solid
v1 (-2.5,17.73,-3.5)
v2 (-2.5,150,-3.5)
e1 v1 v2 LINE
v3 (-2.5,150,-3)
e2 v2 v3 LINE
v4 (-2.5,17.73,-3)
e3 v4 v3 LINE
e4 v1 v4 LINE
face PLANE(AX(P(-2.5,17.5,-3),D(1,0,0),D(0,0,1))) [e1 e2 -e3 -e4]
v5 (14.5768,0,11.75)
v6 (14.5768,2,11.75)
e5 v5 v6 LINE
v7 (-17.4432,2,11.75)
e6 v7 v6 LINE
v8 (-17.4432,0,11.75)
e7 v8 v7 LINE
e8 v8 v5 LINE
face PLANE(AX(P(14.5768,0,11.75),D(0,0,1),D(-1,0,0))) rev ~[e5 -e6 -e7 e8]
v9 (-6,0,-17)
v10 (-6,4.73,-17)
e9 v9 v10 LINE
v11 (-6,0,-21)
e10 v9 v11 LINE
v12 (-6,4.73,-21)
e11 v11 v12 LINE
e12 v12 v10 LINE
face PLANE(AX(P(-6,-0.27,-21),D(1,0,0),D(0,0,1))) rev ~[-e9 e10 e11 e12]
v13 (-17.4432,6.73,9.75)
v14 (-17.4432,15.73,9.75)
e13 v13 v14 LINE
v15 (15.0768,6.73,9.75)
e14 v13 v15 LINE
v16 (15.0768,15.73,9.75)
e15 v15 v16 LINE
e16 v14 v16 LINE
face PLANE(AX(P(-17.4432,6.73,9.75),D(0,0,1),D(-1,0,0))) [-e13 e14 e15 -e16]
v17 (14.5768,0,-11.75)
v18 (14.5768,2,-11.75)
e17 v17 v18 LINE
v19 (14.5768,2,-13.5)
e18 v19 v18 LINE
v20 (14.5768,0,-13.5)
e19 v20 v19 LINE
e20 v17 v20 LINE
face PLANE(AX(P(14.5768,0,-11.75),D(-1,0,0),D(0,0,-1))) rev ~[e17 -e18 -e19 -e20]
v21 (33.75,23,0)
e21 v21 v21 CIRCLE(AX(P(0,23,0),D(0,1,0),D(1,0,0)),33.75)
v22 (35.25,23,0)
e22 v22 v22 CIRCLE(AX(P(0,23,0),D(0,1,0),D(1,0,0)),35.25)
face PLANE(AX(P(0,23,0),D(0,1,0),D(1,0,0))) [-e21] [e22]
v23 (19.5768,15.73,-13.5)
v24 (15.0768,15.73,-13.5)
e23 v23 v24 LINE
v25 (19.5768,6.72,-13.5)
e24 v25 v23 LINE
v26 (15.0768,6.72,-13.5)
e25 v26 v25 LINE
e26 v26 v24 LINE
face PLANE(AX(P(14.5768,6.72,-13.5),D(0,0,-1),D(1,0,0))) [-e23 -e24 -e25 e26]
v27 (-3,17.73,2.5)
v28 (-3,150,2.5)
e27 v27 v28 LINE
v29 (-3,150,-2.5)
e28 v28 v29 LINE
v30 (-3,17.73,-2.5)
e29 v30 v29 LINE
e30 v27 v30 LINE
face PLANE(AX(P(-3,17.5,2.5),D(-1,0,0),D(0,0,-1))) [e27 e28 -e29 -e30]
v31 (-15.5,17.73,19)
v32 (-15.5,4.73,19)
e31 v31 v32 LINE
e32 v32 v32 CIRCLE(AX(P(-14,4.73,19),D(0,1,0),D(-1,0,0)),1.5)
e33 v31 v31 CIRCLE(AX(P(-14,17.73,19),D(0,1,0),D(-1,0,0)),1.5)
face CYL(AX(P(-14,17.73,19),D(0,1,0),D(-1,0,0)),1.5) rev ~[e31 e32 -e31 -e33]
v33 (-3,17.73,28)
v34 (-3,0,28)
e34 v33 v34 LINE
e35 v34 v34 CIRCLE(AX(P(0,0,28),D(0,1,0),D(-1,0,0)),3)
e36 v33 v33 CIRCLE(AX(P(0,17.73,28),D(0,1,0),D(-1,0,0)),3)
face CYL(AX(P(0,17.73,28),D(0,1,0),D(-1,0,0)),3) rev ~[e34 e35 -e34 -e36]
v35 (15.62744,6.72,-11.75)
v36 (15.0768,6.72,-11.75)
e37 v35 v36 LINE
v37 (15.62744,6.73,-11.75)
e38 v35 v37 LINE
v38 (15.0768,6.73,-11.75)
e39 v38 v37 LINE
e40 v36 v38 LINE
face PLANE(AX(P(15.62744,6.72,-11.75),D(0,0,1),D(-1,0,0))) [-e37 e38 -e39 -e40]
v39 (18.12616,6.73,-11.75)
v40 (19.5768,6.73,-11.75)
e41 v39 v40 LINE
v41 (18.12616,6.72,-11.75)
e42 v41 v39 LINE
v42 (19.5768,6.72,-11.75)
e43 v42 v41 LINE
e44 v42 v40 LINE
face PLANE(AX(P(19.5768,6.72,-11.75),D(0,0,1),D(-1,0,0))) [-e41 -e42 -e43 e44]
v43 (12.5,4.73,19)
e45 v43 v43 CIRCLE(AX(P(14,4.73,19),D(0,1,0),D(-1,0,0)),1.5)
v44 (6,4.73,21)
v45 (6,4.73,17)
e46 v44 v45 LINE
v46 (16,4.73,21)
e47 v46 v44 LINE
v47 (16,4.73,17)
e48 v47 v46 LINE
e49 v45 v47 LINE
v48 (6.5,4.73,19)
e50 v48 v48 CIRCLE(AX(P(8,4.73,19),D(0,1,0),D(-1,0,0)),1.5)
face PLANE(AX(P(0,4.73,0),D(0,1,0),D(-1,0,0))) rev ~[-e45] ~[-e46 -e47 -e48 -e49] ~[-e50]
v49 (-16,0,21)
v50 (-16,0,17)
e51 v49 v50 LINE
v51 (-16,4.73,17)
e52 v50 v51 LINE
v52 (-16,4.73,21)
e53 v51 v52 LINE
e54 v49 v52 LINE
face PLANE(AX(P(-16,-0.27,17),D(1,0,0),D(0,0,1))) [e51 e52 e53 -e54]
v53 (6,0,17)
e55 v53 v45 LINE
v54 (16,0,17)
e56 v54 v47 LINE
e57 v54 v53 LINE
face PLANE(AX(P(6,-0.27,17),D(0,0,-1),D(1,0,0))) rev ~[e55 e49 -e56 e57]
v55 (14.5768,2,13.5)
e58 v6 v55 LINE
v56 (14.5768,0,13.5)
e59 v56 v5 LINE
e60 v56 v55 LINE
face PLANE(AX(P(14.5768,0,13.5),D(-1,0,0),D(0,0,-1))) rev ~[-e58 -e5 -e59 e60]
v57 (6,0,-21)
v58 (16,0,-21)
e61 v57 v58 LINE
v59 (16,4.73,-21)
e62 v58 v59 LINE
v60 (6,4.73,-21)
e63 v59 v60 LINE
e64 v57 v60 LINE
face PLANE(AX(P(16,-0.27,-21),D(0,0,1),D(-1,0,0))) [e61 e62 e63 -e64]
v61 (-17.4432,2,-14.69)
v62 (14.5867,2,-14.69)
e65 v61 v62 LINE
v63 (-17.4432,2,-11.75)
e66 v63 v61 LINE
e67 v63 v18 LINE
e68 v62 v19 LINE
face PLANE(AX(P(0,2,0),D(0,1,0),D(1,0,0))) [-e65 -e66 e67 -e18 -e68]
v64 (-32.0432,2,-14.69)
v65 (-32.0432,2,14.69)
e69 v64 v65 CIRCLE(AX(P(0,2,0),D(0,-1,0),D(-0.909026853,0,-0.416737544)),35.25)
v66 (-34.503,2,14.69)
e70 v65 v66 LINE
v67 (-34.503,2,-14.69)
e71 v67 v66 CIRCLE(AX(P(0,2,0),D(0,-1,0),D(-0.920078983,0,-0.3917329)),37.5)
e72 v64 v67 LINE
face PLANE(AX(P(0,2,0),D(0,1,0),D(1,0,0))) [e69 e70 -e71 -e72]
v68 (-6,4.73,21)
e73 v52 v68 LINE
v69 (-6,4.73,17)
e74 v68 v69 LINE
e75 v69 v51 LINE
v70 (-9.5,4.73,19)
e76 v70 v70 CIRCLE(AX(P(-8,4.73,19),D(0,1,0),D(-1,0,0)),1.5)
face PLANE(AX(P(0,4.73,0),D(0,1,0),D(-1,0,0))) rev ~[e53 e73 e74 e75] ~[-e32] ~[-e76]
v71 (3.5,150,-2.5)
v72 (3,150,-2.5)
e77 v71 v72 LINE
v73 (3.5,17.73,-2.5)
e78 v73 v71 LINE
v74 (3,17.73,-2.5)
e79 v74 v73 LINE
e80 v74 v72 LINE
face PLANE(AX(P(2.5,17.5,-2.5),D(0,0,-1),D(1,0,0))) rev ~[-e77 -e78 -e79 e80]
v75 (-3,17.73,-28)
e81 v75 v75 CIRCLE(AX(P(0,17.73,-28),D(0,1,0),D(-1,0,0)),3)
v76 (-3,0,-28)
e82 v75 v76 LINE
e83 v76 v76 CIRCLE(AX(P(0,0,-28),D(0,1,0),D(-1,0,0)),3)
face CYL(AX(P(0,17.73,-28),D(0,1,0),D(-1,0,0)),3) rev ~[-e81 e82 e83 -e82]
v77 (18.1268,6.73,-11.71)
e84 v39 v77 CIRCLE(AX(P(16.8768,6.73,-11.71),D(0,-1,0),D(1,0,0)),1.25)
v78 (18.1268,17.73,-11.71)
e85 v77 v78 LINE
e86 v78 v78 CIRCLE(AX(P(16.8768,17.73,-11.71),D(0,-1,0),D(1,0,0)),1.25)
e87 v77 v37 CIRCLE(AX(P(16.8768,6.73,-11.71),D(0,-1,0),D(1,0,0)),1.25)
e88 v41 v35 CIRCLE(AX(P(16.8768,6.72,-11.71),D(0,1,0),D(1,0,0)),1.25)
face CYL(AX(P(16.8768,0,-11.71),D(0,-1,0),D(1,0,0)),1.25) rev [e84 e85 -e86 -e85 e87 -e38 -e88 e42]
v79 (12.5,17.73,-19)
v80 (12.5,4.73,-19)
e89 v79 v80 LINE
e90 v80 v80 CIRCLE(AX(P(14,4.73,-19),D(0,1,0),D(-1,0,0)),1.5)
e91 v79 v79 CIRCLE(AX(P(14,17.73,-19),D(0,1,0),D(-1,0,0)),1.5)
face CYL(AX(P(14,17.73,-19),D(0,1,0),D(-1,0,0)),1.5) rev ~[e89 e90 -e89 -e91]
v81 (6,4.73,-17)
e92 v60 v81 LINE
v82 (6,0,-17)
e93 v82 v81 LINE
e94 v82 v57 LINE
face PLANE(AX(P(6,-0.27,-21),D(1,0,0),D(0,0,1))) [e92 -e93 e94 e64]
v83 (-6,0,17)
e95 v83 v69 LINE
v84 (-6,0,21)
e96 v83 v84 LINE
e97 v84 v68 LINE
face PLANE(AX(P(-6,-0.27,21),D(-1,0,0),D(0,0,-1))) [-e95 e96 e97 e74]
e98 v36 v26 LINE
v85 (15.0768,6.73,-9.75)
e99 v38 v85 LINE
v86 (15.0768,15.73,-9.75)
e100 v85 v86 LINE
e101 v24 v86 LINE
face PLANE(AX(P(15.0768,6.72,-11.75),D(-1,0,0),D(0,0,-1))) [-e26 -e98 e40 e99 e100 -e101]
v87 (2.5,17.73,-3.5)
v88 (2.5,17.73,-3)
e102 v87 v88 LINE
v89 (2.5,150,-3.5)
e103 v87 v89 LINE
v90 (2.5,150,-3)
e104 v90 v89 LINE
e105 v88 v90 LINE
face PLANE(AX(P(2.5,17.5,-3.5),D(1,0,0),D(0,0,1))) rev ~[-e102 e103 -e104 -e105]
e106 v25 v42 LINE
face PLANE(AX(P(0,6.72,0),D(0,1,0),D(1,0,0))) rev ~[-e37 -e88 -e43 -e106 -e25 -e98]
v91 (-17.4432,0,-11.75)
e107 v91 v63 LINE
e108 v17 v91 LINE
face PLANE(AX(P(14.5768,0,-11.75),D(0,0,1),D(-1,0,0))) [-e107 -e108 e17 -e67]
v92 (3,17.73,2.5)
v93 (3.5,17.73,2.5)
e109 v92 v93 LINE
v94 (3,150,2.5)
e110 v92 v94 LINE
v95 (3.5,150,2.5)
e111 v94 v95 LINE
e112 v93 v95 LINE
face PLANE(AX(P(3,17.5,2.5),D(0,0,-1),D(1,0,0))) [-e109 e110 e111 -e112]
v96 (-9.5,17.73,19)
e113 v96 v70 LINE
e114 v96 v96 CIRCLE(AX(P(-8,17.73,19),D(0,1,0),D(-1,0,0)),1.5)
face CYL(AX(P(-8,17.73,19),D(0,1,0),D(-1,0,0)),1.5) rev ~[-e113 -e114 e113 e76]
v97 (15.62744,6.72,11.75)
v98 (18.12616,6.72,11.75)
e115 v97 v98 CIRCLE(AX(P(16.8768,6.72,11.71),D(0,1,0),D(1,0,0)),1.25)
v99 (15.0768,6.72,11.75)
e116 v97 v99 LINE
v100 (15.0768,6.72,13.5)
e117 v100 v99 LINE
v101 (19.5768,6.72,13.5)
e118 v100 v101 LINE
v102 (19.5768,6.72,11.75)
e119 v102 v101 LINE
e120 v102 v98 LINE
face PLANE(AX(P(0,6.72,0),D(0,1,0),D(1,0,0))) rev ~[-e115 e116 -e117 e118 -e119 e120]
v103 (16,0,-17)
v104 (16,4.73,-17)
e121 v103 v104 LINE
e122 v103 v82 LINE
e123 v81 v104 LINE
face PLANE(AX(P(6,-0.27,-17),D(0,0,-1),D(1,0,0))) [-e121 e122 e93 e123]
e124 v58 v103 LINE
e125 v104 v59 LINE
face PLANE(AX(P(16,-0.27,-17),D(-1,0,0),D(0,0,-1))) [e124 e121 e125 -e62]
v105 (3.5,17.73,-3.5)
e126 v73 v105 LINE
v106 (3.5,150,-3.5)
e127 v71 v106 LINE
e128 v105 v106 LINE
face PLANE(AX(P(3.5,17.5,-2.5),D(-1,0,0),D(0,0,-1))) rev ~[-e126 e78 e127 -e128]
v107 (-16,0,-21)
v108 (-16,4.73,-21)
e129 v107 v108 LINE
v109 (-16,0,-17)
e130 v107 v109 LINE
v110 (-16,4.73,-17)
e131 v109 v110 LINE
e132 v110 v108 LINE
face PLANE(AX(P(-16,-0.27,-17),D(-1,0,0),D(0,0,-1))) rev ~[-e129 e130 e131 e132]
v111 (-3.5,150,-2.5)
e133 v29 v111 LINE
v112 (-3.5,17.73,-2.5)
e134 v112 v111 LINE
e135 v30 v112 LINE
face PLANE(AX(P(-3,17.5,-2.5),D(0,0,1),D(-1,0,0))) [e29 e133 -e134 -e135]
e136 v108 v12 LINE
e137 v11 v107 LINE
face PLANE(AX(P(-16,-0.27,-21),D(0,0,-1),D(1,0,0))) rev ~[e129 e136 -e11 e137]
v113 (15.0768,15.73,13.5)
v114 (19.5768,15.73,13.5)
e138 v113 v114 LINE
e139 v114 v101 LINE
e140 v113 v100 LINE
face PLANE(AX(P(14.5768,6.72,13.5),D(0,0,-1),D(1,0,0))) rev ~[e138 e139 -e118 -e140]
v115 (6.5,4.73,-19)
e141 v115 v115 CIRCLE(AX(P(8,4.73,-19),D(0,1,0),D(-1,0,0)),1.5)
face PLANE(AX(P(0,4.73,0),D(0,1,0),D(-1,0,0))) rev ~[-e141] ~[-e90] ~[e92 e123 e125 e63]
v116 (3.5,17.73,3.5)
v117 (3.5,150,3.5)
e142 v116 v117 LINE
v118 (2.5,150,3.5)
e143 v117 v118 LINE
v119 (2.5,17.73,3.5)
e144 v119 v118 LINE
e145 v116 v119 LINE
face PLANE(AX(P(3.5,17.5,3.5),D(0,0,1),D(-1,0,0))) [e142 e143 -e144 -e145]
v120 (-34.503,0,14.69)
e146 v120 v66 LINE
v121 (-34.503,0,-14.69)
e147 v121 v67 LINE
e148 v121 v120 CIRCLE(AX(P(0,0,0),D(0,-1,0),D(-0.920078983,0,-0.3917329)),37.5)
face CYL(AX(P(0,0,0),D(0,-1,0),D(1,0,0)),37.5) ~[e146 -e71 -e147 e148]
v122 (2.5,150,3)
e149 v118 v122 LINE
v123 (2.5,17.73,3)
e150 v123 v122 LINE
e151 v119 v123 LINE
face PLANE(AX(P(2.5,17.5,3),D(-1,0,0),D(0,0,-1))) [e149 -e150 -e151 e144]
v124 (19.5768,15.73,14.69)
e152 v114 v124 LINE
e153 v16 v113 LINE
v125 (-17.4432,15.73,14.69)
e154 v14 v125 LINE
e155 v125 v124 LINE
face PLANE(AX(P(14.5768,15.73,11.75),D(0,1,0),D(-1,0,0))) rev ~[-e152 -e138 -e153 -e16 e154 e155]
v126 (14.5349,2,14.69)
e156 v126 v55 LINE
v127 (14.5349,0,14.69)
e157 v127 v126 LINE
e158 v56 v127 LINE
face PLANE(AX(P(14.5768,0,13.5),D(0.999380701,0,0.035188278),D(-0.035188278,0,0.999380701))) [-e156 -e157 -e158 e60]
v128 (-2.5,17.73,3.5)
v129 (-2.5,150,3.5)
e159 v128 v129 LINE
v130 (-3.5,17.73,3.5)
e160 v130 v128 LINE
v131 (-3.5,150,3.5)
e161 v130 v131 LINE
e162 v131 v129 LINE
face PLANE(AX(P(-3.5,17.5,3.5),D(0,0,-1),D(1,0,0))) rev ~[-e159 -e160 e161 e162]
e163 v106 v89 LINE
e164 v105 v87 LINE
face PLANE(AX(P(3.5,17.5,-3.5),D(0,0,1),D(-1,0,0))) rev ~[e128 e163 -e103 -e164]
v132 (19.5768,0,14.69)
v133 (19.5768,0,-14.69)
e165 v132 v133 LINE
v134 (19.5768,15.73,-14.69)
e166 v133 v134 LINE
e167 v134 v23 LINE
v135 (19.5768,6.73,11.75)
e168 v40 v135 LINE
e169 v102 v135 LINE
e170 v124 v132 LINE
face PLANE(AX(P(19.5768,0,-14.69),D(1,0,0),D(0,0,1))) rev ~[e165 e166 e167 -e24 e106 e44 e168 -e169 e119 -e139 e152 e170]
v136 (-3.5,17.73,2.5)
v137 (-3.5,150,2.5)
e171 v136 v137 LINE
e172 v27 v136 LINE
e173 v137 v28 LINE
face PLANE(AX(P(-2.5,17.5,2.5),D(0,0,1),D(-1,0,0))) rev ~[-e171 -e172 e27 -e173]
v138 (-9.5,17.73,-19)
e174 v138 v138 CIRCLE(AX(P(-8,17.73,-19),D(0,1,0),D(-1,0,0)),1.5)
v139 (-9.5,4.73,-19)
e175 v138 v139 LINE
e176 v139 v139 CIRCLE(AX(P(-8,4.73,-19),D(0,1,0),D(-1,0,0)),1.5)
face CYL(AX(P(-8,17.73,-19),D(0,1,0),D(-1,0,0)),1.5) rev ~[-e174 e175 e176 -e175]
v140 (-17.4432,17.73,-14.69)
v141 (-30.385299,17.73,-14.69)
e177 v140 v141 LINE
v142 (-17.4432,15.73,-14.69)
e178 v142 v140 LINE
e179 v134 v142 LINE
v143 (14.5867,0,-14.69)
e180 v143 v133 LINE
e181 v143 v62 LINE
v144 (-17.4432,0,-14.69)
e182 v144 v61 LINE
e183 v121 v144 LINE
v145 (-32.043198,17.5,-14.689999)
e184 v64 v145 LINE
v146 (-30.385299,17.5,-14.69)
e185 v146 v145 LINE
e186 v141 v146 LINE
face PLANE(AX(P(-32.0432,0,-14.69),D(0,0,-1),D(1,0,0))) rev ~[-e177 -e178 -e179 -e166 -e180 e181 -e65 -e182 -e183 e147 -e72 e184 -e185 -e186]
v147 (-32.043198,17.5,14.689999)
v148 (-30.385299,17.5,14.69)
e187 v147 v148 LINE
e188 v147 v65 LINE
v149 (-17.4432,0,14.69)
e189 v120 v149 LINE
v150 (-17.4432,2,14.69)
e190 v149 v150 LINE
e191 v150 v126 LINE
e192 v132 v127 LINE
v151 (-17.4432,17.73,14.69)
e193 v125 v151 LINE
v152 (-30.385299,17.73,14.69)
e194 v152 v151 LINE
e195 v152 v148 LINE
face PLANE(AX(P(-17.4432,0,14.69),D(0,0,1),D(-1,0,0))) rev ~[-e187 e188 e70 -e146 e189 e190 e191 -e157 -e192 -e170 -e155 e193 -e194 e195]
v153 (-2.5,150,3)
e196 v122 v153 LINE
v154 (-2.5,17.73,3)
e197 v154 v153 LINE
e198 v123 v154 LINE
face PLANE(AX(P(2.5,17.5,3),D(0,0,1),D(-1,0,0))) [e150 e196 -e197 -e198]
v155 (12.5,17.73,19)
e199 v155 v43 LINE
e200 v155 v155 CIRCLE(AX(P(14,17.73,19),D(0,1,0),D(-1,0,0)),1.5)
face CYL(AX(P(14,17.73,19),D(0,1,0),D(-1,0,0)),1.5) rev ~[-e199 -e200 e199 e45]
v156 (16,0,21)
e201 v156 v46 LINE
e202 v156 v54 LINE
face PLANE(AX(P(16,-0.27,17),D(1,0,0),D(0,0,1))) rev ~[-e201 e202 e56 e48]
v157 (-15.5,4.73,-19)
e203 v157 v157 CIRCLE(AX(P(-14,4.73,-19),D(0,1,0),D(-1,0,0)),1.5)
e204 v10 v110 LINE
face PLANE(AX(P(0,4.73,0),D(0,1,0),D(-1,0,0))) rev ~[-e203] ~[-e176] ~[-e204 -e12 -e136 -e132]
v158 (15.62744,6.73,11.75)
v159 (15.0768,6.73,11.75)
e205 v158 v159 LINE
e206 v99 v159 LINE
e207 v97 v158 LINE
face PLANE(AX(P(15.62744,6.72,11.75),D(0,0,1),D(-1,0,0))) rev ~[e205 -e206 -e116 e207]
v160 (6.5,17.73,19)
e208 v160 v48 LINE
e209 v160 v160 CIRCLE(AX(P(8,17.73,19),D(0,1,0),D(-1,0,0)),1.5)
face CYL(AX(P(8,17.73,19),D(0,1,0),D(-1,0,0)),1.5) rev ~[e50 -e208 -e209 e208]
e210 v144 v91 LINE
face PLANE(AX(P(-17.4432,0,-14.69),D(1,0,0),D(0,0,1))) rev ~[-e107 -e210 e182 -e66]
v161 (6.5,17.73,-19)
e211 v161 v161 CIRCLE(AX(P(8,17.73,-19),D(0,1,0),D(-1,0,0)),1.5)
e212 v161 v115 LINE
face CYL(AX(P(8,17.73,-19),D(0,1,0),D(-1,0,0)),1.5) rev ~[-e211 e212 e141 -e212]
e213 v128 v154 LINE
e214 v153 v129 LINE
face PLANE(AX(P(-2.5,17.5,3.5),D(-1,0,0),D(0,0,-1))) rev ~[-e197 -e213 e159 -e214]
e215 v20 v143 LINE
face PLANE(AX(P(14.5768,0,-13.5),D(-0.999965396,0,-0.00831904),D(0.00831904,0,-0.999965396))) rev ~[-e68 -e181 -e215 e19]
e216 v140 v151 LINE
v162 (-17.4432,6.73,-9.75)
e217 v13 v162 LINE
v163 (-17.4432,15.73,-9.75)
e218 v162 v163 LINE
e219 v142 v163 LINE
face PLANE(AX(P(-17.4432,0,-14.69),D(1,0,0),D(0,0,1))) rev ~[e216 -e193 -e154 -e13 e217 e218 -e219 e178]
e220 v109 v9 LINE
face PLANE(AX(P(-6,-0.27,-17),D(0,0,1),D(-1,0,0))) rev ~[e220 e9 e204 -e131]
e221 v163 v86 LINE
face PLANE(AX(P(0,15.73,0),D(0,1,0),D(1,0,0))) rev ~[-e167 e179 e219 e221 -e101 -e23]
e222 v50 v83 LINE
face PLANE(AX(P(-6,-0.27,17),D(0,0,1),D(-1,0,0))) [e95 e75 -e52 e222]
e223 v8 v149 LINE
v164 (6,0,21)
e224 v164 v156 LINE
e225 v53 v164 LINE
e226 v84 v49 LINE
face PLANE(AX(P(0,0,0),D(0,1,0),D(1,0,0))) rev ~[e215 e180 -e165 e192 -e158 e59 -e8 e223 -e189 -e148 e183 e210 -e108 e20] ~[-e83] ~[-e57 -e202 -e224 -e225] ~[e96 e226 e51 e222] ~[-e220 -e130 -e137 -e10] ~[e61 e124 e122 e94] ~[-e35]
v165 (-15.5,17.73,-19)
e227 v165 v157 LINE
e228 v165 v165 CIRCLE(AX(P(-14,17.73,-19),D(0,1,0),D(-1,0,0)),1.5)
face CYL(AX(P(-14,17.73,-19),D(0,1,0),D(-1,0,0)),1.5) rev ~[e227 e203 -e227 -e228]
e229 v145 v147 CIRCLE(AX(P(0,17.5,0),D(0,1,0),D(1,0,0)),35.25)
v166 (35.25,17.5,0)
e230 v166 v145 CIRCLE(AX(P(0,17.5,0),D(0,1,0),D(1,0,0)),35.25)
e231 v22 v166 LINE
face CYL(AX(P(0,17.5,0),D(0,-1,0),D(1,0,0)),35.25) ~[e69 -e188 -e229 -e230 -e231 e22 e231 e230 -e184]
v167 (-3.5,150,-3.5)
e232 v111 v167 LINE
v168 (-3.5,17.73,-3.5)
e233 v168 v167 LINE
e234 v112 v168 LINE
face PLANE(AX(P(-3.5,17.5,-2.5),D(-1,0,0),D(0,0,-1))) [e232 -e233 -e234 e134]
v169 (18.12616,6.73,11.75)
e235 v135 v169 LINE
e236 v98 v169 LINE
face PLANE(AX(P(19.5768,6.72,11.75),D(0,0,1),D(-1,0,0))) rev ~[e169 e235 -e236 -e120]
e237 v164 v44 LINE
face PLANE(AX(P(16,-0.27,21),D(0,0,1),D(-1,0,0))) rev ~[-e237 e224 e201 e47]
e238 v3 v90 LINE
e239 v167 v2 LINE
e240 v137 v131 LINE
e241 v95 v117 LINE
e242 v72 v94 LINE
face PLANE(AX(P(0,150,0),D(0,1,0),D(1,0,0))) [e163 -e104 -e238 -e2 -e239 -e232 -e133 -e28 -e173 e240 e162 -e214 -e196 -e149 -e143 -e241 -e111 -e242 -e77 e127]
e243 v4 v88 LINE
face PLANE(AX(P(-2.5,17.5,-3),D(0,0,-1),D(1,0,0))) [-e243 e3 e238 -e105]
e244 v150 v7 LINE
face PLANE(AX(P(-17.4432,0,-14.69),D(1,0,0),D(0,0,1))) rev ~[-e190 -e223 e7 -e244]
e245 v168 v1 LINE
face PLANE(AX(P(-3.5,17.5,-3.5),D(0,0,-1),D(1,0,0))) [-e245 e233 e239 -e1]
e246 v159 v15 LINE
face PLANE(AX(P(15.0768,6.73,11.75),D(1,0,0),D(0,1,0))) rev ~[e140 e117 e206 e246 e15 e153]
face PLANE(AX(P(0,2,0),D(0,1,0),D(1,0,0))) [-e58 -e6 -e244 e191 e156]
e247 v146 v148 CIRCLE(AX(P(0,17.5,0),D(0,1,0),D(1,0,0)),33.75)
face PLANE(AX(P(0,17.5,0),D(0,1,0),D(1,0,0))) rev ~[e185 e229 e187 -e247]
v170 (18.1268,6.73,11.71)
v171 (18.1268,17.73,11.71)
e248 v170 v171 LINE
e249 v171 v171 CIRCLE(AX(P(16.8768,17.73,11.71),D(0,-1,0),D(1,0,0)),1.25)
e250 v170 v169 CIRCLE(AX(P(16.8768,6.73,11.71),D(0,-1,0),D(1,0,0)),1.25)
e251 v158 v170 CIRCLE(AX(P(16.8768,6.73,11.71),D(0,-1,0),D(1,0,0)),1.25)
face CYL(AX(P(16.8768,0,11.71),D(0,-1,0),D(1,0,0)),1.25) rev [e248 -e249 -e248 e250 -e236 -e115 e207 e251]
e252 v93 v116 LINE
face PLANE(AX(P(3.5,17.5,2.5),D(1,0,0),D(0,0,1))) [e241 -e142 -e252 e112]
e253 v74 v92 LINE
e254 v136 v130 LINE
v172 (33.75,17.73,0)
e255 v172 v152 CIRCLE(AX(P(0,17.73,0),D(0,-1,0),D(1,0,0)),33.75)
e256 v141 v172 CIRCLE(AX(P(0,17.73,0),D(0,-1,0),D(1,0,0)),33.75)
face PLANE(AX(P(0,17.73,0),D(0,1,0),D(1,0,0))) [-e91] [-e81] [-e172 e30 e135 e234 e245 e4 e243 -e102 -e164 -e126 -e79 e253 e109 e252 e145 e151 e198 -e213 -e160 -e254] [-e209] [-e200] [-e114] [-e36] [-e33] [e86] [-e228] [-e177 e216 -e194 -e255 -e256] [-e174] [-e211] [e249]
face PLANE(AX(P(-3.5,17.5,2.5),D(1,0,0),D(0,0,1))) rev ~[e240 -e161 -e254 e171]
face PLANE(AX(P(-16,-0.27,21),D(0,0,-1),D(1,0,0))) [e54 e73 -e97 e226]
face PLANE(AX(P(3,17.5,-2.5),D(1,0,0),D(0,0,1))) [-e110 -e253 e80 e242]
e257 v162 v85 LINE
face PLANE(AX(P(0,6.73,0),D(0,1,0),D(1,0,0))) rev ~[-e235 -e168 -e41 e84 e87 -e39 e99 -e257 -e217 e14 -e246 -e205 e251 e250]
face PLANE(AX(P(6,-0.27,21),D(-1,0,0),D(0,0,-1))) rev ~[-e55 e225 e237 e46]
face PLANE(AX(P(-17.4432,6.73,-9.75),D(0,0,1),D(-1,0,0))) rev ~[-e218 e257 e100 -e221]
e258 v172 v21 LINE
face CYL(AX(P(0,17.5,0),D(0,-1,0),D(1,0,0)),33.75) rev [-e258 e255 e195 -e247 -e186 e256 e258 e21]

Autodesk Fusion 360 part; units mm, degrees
sketch "Sketch1" plane through (0, 0, 0) normal (0, 1, 0) x (1, 0, 0) in component "Base"
  circle A0 centre (0, 0) radius 37.5
  circle A1 centre (0, 0) radius 35.25
  circle A2 centre (0, 0) radius 33.75
  dimension "d8" = 70.5
  dimension "d82" = -1.5
sketch "Sketch1 (2)" plane through (0, 0, 0) normal (0, 1, 0) x (1, 0, 0) in component "Esp32 Module"
  line L0 (19.5768, -14.69) -> (-32.0432, -14.69)
  line L1 (-32.0432, -14.69) -> (-32.0432, 14.69)
  line L2 (-32.0432, 14.69) -> (19.5768, 14.69)
  line L3 (19.5768, 14.69) -> (19.5768, -14.69)
  line L4 (19.5768, -14.69) -> (-32.0432, 14.69) construction
  line L5 (-32.0432, -14.69) -> (19.5768, 14.69) construction
  circle A0 centre (0, 0) radius 35.25
  line L6 (-32.0432, 4.01) -> (-26.5332, 4.01)
  line L7 (-26.5332, 4.01) -> (-26.5332, -3.49)
  line L8 (-26.5332, -3.49) -> (-32.0432, -3.49)
  line L9 (-32.0432, -3.49) -> (-32.0432, 4.01)
  line L10 (-32.0432, 14.69) -> (-28.6432, 14.69) construction
  line L11 (-28.6432, 14.69) -> (-28.6432, 8.19) construction
  line L12 (-28.6432, 8.19) -> (-32.0432, 8.19) construction
  line L13 (-32.0432, 8.19) -> (-32.0432, 14.69) construction
  circle A1 centre (-28.6432, 8.19) radius 1.5
  line L14 (-32.0432, -8.19) -> (-28.6432, -8.19) construction
  line L15 (-28.6432, -8.19) -> (-28.6432, -14.69) construction
  line L16 (-28.6432, -14.69) -> (-32.0432, -14.69) construction
  line L17 (-32.0432, -14.69) -> (-32.0432, -8.19) construction
  circle A2 centre (-28.6432, -8.19) radius 1.5
  line L18 (-32.0432, -14.69) -> (-18.9432, -14.69) construction
  line L19 (-18.9432, -14.69) -> (-18.9432, -8.59) construction
  line L20 (-18.9432, -8.59) -> (-32.0432, -8.59) construction
  line L21 (-32.0432, -8.59) -> (-32.0432, -14.69) construction
  line L22 (-17.4432, -7.09) -> (-20.4432, -7.09)
  line L23 (-20.4432, -7.09) -> (-20.4432, -10.09)
  line L24 (-20.4432, -10.09) -> (-17.4432, -10.09)
  line L25 (-17.4432, -10.09) -> (-17.4432, -7.09)
  line L26 (-17.4432, -7.09) -> (-20.4432, -10.09) construction
  line L27 (-20.4432, -7.09) -> (-17.4432, -10.09) construction
  line L28 (19.5768, 14.69) -> (-17.4432, 14.69)
  line L29 (-17.4432, 14.69) -> (-17.4432, -14.69)
  line L30 (-17.4432, -14.69) -> (19.5768, -14.69)
  line L31 (19.5768, -14.69) -> (19.5768, 14.69)
  circle A3 centre (0, 0) radius 37.5
  line L32 (-32.0432, 14.69) -> (-34.503, 14.69)
  line L33 (-32.0432, -14.69) -> (-34.503, -14.69)
  arc A4 (-34.503, 14.69) -> (-34.503, -14.69) centre (-1.1733, 0) ccw
  line L34 (-17.4432, -13.5) -> (19.5768, -13.5)
  line L35 (19.5768, -13.5) -> (19.5768, -11.75)
  line L36 (19.5768, -11.75) -> (-17.4432, -11.75)
  line L37 (-17.4432, -11.75) -> (-17.4432, -13.5)
  line L38 (-6.2332, 0) -> (19.5768, 0) construction
  line L39 (-17.4432, 13.5) -> (19.5768, 13.5)
  line L40 (19.5768, 11.75) -> (-17.4432, 11.75)
  line L41 (-17.4432, 11.75) -> (-17.4432, 13.5)
  line L42 (19.5768, -14.69) -> (19.5768, 14.69)
  line L43 (-17.4432, 13.5) -> (-32.5624, 13.5)
  line L44 (-17.4432, 11.75) -> (-33.234, 11.75)
  line L45 (-17.4432, -11.75) -> (-33.234, -11.75)
  line L46 (-17.4432, -13.5) -> (-32.5624, -13.5)
  line L47 (19.5768, 0) -> (16.8768, 0)
  line L48 (16.8768, 0) -> (16.8768, -11.71)
  line L49 (16.8768, -11.71) -> (19.5768, -11.71)
  line L50 (19.5768, -11.71) -> (19.5768, 0)
  circle A5 centre (16.8768, -11.71) radius 1.25
  circle A6 centre (16.8768, 11.71) radius 1.25
  line L51 (19.5768, -13.5) -> (14.5768, -13.5)
  line L52 (14.5768, -13.5) -> (14.5768, 13.5)
  line L53 (14.5768, 13.5) -> (19.5768, 13.5)
  line L54 (19.5768, 13.5) -> (19.5768, -13.5)
  line L55 (14.5768, 13.5) -> (14.5867, 14.69)
  line L56 (14.5768, -13.5) -> (14.5349, -14.69)
  point P0 (-6.2332, 0)
  point P1 (-18.9432, -8.59)
  dimension "d9" = 51.62
  dimension "d10" = 29.38
  dimension "d15" = 5.51
  dimension "d16" = 7.5
  dimension "d17" = 18.18
  dimension "d18" = 3.4
  dimension "d19" = 6.5
  dimension "d20" = 3
  dimension "d21" = 3.4
  dimension "d22" = 6.5
  dimension "d23" = 3
  dimension "d24" = 13.1
  dimension "d25" = 6.1
  dimension "d26" = 3
  dimension "d27" = 3
  dimension "d32" = 1.75
  dimension "d33" = 1.19
  dimension "d99" = 2.7
  dimension "d100" = 11.71
  dimension "d101" = 2.5
  dimension "d104" = 5
extrude "Extrude1" add sketch "Sketch1 (2)" along normal blind 2 contours L0 L2 L3 A0 L28 L30 L31 L35 L42 L50 L54 | L0 L3 L30 L31 L34 L42 L51 L56 | L0 L29 L30 L34 L56 | L3 L31 L34 L35 L36 L42 A5 L51 L52 L54 | L29 L34 L36 L37 L52 | L3 L31 L36 L42 L49 A5 L54 | A0 A3 L32 L33 | L3 L31 L36 L40 L42 L47 L48 A5 A6 L52 L54 | L25 L29 L36 L40 L52 | L3 L31 L42 L47 L48 L49 L50 A5 L54 | L36 A5 | L36 L48 L49 A5 | L3 L31 L39 L40 L42 A6 L52 L53 L54 | L29 L39 L40 L41 L52 | L48 L49 A5 | L40 A6 | L40 A6 | L2 L3 L28 L31 L39 L42 L53 L55 | L2 L28 L29 L39 L55 picked at (-2.6137, 21.4253) picked at (16.2295, -14.2933) picked at (3.8895, -13.8967) picked at (19.048, -12.5093) picked at (3.9035, -12.9167) picked at (19.0934, -11.7278) picked at (-31.2352, 17.761) picked at (17.8889, 3.502) picked at (3.9035, -2.3633) picked at (17.8361, -3.4909) picked at (16.6279, -12.1266) picked at (16.8163, -10.8811) picked at (19.048, 12.5093) picked at (-6.7699, 12.3333) picked at (17.1673, -10.9312) picked at (16.6723, 12.0997) picked at (16.7519, 11.3392) picked at (16.2468, 13.8967) picked at (3.9068, 14.2933) makes body 1 in component "Esp32 Module"
extrude "Extrude2" add sketch "Sketch1 (2)" along normal blind 6.73 contours L0 L2 L3 A0 L28 L30 L31 L35 L42 L50 L54 picked at (-2.6137, 21.4253) bodies 1 in component "Esp32 Module"
ref_plane "WorkPlane1" through (1.6034, 6.73, 0) normal (0, 1, 0) x (1, 0, 0) in component "Esp32 Module"
extrude "Extrude3" add sketch "Sketch1 (2)" along normal blind 17.73 and the other way blind -6.73 separate body contours L0 L2 L3 A0 L28 L30 L31 L35 L42 L50 L54 | L0 L3 L30 L31 L34 L42 L51 L56 | L0 L29 L30 L34 L56 | L3 L31 L34 L35 L36 L42 A5 L51 L52 L54 | L0 L1 L29 L46 | L29 L34 L36 L37 L52 | L3 L31 L36 L42 L49 A5 L54 | L1 A0 L46 | L1 L29 L37 L45 L46 | L3 L31 L36 L40 L42 L47 L48 A5 A6 L52 L54 | L25 L29 L36 L40 L52 | L3 L31 L42 L47 L48 L49 L50 A5 L54 | L36 A5 | L36 L48 L49 A5 | L1 A0 L45 L46 | L1 L6 L7 L8 L22 L23 L24 L29 L44 L45 | L3 L31 L39 L40 L42 A6 L52 L53 L54 | L29 L39 L40 L41 L52 | L48 L49 A5 | L1 A0 L9 L44 L45 | L1 L2 L29 L43 | L1 A0 L43 | L22 L23 L24 L25 L29 | L40 A6 | L40 A6 | L1 L29 L41 L43 L44 | L2 L3 L28 L31 L39 L42 L53 L55 | L2 L28 L29 L39 L55 | L1 L6 L7 L8 L9 | L1 A0 L43 L44 | A1 | A2 picked at (-2.6137, 21.4253) picked at (16.2295, -14.2933) picked at (3.8895, -13.8967) picked at (19.048, -12.5093) picked at (-22.3099, -14.2933) picked at (3.9035, -12.9167) picked at (19.0934, -11.7278) picked at (-32.3333, -13.6329) picked at (-27.1765, -12.3333) picked at (17.8889, 3.502) picked at (3.9035, -2.3633) picked at (17.8361, -3.4909) picked at (16.6279, -12.1266) picked at (16.8163, -10.8811) picked at (-32.2943, -12.7236) picked at (-20.4732, 2.89) picked at (19.048, 12.5093) picked at (-6.7699, 12.3333) picked at (17.1673, -10.9312) picked at (-33.085, 0.9713) picked at (-27.1765, 13.8967) picked at (-32.3333, 13.6329) picked at (-18.4432, -9.09) picked at (16.6723, 12.0997) picked at (16.7519, 11.3392) picked at (-22.3099, 12.9167) picked at (16.2468, 13.8967) picked at (3.9068, 14.2933) picked at (-30.2065, 1.51) picked at (-32.2943, 12.7236) picked at (-28.8632, 9.154) picked at (-28.4979, -7.226) makes body 2 in component "Esp32 Module"
extrude "Extrude4" cut sketch "Sketch1 (2)" along normal blind 6.73 and the other way blind -15.73 contours L3 L31 L34 L35 L36 L42 A5 L51 L52 L54 | L29 L34 L36 L37 L52 | L36 A5 | L3 L31 L39 L40 L42 A6 L52 L53 L54 | L29 L39 L40 L41 L52 | L40 A6 picked at (19.048, -12.5093) picked at (3.9035, -12.9167) picked at (16.6279, -12.1266) picked at (19.048, 12.5093) picked at (-6.7699, 12.3333) picked at (16.6723, 12.0997) bodies 2 in component "Esp32 Module"
extrude "Extrude5" cut sketch "Sketch1 (2)" along normal blind 15.73 and the other way blind -6.73 contours L1 L29 L37 L45 L46 | L1 A0 L45 L46 | L1 L29 L41 L43 L44 | L1 A0 L43 L44 picked at (-27.1765, -12.3333) picked at (-32.2943, -12.7236) picked at (-22.3099, 12.9167) picked at (-32.2943, 12.7236) bodies 2 in component "Esp32 Module"
sketch "Sketch1 (3)" plane through (0, 0, 0) normal (0, 1, 0) x (1, 0, 0) in component "Tower"
  line L0 (-3, 3) -> (3, 3)
  line L1 (3, 3) -> (3, -3)
  line L2 (3, -3) -> (-3, -3)
  line L3 (-3, -3) -> (-3, 3)
  line L4 (-3, 3) -> (3, -3) construction
  line L5 (3, 3) -> (-3, -3) construction
  line L6 (-3.5, -3.5) -> (-2.5, -3.5)
  line L7 (-2.5, -3.5) -> (-2.5, -2.5)
  line L8 (-2.5, -2.5) -> (-3.5, -2.5)
  line L9 (-3.5, -2.5) -> (-3.5, -3.5)
  line L10 (-3.5, -3.5) -> (-2.5, -2.5) construction
  line L11 (-2.5, -3.5) -> (-3.5, -2.5) construction
  line L12 (0, 0) -> (0, -3) construction
  line L13 (0, 0) -> (3, 0) construction
  line L14 (2.5, -3.5) -> (2.5, -2.5)
  line L15 (2.5, -2.5) -> (3.5, -2.5)
  line L16 (3.5, -2.5) -> (3.5, -3.5)
  line L17 (3.5, -3.5) -> (2.5, -3.5)
  line L18 (3.5, 3.5) -> (2.5, 3.5)
  line L19 (2.5, 3.5) -> (2.5, 2.5)
  line L20 (2.5, 2.5) -> (3.5, 2.5)
  line L21 (3.5, 2.5) -> (3.5, 3.5)
  line L22 (-2.5, 3.5) -> (-2.5, 2.5)
  line L23 (-2.5, 2.5) -> (-3.5, 2.5)
  line L24 (-3.5, 2.5) -> (-3.5, 3.5)
  line L25 (-3.5, 3.5) -> (-2.5, 3.5)
  point P0 (-3, -3)
  dimension "d48" = 6
  dimension "d49" = 6
  dimension "d89" = 1
  dimension "d90" = 1
extrude "Extrude1'" add sketch "Sketch1 (3)" along normal blind 150 and the other way blind -17.5 separate body contours L0 L3 L22 L23 | L0 L1 L2 L3 L7 L8 L14 L15 L19 L20 L22 L23 | L0 L1 L19 L20 | L2 L3 L7 L8 | L1 L2 L14 L15 picked at (-2.6667, 2.6667) picked at (-0.8333, -0.8333) picked at (2.8333, 2.6667) picked at (-2.6667, -2.8333) picked at (2.8333, -2.6667) makes body 3 in component "Tower"
sketch "Sketch1 (4)" plane through (0, 0, 0) normal (0, 1, 0) x (1, 0, 0) in component "Lens"
  circle A0 centre (0, 0) radius 37.5
  circle A1 centre (0, 0) radius 35.5
  dimension "d54" = 75
extrude "Extrude1''" add sketch "Sketch1 (4)" along normal blind 160 and the other way blind -158 separate body contours A1 picked at (5.3909, 6.76) makes body 4 in component "Lens"
extrude "Extrude2'" add sketch "Sketch1 (4)" along normal blind 160 and the other way blind -2 contours A0 picked at (36.6937, -1.863) bodies 4 in component "Lens"
extrude "Extrude6" cut sketch "Sketch1 (2)" along normal blind 18 and the other way blind -5 contours A0 A3 L32 L33 A4 | L1 L6 L7 L8 L22 L23 L24 L29 L44 L45 | L1 A0 L9 L44 L45 | L22 L23 L24 L25 L29 | L1 L6 L7 L8 L9 | A1 | A2 picked at (-35.9457, 0) picked at (-20.4732, 2.89) picked at (-33.085, 0.9713) picked at (-18.4432, -9.09) picked at (-30.2065, 1.51) picked at (-28.8632, 9.154) picked at (-28.4979, -7.226) bodies 2 in component "Esp32 Module"
sketch "Sketch2" plane through (0, 0, 0) normal (1, 0, 0) x (0, 0, -1)
  line L0 (-4.9895, 1.2122) -> (5, 1.2122)
  line L1 (5, 1.2122) -> (5, 7.5)
  line L2 (5, 7.5) -> (-4.9895, 7.5)
  line L3 (-4.9895, 7.5) -> (-4.9895, 1.2122)
  line L4 (-4.9895, 1.2122) -> (5, 7.5) construction
  line L5 (5, 1.2122) -> (-4.9895, 7.5) construction
  point P0 (0.0052, 4.3561)
extrude "Extrude7" [suppressed] in component "Esp32 Module"
extrude "Extrude3'" cut sketch "Sketch2" along normal blind -41 and the other way blind 31 contours L0 L1 L2 L3 picked at (1.6702, 3.3081) bodies 4 in component "Lens"
extrude "Extrude8" cut sketch "Sketch1 (2)" along normal blind 19 contours L0 L1 L29 L46 | L1 A0 L46 | A0 A3 L32 L33 A4 | L1 L29 L37 L45 L46 | L1 A0 L45 L46 | L1 L2 L29 L43 | L1 A0 L43 | L1 L29 L41 L43 L44 | L1 A0 L43 L44 picked at (-22.3099, -14.2933) picked at (-32.3333, -13.6329) picked at (-35.9457, 0) picked at (-27.1765, -12.3333) picked at (-32.2943, -12.7236) picked at (-27.1765, 13.8967) picked at (-32.3333, 13.6329) picked at (-22.3099, 12.9167) picked at (-32.2943, 12.7236) bodies 2 in component "Esp32 Module"
extrude "Extrude1'''" add sketch "Sketch1" along normal blind 23 and the other way blind -17.5 separate body contours A1 picked at (-5.9961, 34.1405) makes body 5
extrude "Extrude9" cut sketch "Sketch1 (2)" along normal blind 5 contours L3 L31 L36 L42 L49 A5 L54 | L3 L31 L36 L40 L42 L47 L48 A5 A6 L52 L54 | L25 L29 L36 L40 L52 | L3 L31 L42 L47 L48 L49 L50 A5 L54 | L36 L48 L49 A5 | L48 L49 A5 | L40 A6 picked at (19.0934, -11.7278) picked at (17.8889, 3.502) picked at (3.9035, -2.3633) picked at (17.8361, -3.4909) picked at (16.8163, -10.8811) picked at (17.1673, -10.9312) picked at (16.7519, 11.3392) bodies 1 in component "Esp32 Module"
combine "Combine1" operation add target body 5 tool bodies 2 1
extrude "Extrude2''" [suppressed]
extrude "Extrude2'''" add sketch "Sketch1 (3)" along normal blind 150 and the other way blind -17.5 contours L0 L3 L22 L23 L24 L25 | L0 L3 L22 L23 | L0 L1 L18 L19 L20 L21 | L0 L1 L19 L20 | L2 L3 L7 L8 | L2 L3 L6 L7 L8 L9 | L1 L2 L14 L15 L16 L17 | L1 L2 L14 L15 picked at (-3, 3.3333) picked at (-2.6667, 2.6667) picked at (3.3333, 3) picked at (2.8333, 2.6667) picked at (-2.6667, -2.8333) picked at (-3, -3.3333) picked at (3.3333, -3) picked at (2.8333, -2.6667) bodies 3 in component "Tower"
extrude "Extrude3''" cut sketch "Sketch1 (2)" along normal blind 18 contours L36 A5 | L36 L48 L49 A5 | L48 L49 A5 | L40 A6 | L40 A6 picked at (16.6279, -12.1266) picked at (16.8163, -10.8811) picked at (17.1673, -10.9312) picked at (16.6723, 12.0997) picked at (16.7519, 11.3392) bodies 5
extrude "Extrude4'" cut sketch "Sketch1 (2)" along normal blind 3 contours L3 L31 L34 L35 L36 L42 A5 L51 L52 L54 | L3 L31 L36 L40 L42 L47 L48 A5 A6 L52 L54 | L3 L31 L42 L47 L48 L49 L50 A5 L54 | L3 L31 L39 L40 L42 A6 L52 L53 L54 picked at (19.048, -12.5093) picked at (17.8889, 3.502) picked at (17.8361, -3.4909) picked at (19.048, 12.5093) bodies 5
extrude "Extrude5'" add sketch "Sketch1 (2)" along normal blind 17 and the other way blind -6.72 contours L3 L31 L34 L35 L36 L42 A5 L51 L52 L54 | L3 L31 L39 L40 L42 A6 L52 L53 L54 picked at (19.048, -12.5093) picked at (19.048, 12.5093) bodies 5
sketch "Sketch3" plane through (0, 17.73, 0) normal (0, 1, 0) x (-1, 0, 0)
  circle A0 centre (-16.8768, 11.71) radius 1.25
  circle A1 centre (-16.8768, -11.71) radius 1.25
  arc A2 (30.3853, 14.69) -> (30.3853, -14.69) centre (0, 0) ccw
  line L0 (30.3853, -14.69) -> (17.4432, -14.69)
  line L1 (17.4432, -14.69) -> (17.4432, 14.69)
  line L2 (17.4432, 14.69) -> (30.3853, 14.69)
  line L3 (-16, 21) -> (-6, 21)
  line L4 (-6, 21) -> (-6, 17)
  line L5 (-6, 17) -> (-16, 17)
  line L6 (-16, 17) -> (-16, 21)
  circle A3 centre (-14, 19) radius 1.5
  circle A4 centre (-8, 19) radius 1.5
  line L7 (0, -5) -> (0, 4.9895)
  line L8 (16, 17) -> (16, 21)
  line L9 (6, 21) -> (6, 17)
  line L10 (6, 17) -> (16, 17)
  circle A5 centre (14, 19) radius 1.5
  circle A6 centre (8, 19) radius 1.5
  line L11 (16, 21) -> (6, 21)
  line L12 (6.2332, 0) -> (-19.5768, 0)
  line L13 (-16, -21) -> (-6, -21)
  line L14 (-6, -17) -> (-16, -17)
  line L15 (-6, -21) -> (-6, -17)
  line L16 (-16, -17) -> (-16, -21)
  circle A7 centre (-8, -19) radius 1.5
  circle A8 centre (-14, -19) radius 1.5
  line L17 (16, -17) -> (16, -21)
  line L18 (16, -21) -> (6, -21)
  line L19 (6, -17) -> (16, -17)
  circle A9 centre (8, -19) radius 1.5
  circle A10 centre (14, -19) radius 1.5
  line L20 (6, -21) -> (6, -17)
  circle A11 centre (0, 28) radius 3
  circle A12 centre (0, -28) radius 3
  dimension "d111" = 10
  dimension "d112" = 4
  dimension "d113" = 3
  dimension "d114" = 3
  dimension "d123" = 6
extrude "Extrude6'" cut sketch "Sketch3" along normal blind 20 and the other way blind 25 contours A3 | A4 | A5 | A6 | A7 | A8 | A9 | A10 picked at (-14.1113, 19.4875) picked at (-7.5329, 18.7102) picked at (13.8887, 19.4875) picked at (8.4944, 18.2453) picked at (-7.5329, -19.2898) picked at (-14.0374, -18.5237) picked at (8.3832, -18.438) picked at (13.9626, -18.5237) bodies 5
extrude "Extrude7'" cut sketch "Sketch3" along normal blind -13 and the other way blind 18 contours L3 L4 L5 L6 | L8 L9 L10 L11 | L13 L14 L15 L16 | L17 L18 L19 L20 picked at (-11.8887, 17.1792) picked at (11.8887, 17.1792) picked at (-11.8887, -20.8208) picked at (11.8887, -20.8208) bodies 5
extrude "Extrude8'" cut sketch "Sketch3" along normal blind 4 and the other way blind 20 contours A11 | A12 picked at (-0.5, 28.9957) picked at (-0.5, -27.0043) bodies 5
combine "Combine1'" operation add target body 3 tool bodies 5 in component "Tower"
extrude "Extrude3'''" cut 1 faces at (-6.7699, 9.73, -11.75) along direction (0, 0, 1) blind 2 on bodies 3 bodies 3 in component "Tower"
extrude "Extrude4''" cut 1 faces at (-6.7699, 9.73, 11.75) along direction (0, 0, -1) blind 2 on bodies 3 bodies 3 in component "Tower"
extrude "Extrude5''" cut 2 faces at (14.5768, 12.73, -11.6667) (14.5768, 12.73, 11.6667) along direction (1, 0, 0) blind 0.5 on bodies 3 bodies 3 in component "Tower"
extrude "Extrude6''" cut 2 faces at (5.7368, 6.73, -14.2933) (5.7368, 6.73, 14.2933) along direction (0, 1, 0) blind 9 on bodies 3 bodies 3 in component "Tower"
extrude "Extrude7''" cut sketch "Sketch1 (2)" along normal blind 3 contours L0 L3 L30 L31 L34 L42 L51 L56 | L2 L3 L28 L31 L39 L42 L53 L55 picked at (16.2295, -14.2933) picked at (16.2468, 13.8967) bodies 3 in component "Tower"
component "Base" placed x (1, 0, 0) y (0, 1, 0) z (0, 0, 1) at (0, 0, 0)
component "Esp32 Module" placed x (1, 0, 0) y (0, 1, 0) z (0, 0, 1) at (0, 0, 0)
component "Tower" placed x (1, 0, 0) y (0, 1, 0) z (0, 0, 1) at (0, 0, 0)
component "Lens" placed x (1, 0, 0) y (0, 1, 0) z (0, 0, 1) at (0, 0, 0)
hidden bodies 4
equation "Base_dia = 75 mm"
equation "tolerance_base_to_lens = 0.5 mm"
equation "lens_thickness = 2 mm"
equation "thickness_bottom_of_base = 2 mm"
equation "esp_thickness = 4.73 mm"
equation "d8 = Base_dia - 2 * lens_thickness - tolerance_base_to_lens"
equation "d9 = esp_length"
equation "d10 = esp_width + 1 mm"
equation "esp_length = 51.62 mm"
equation "esp_width = 28.38 mm"
equation "usb_y = 7.5 mm"
equation "usb_x = 5.51 mm"
equation "d15 = usb_x"
equation "d16 = usb_y"
equation "d28 = thickness_bottom_of_base"
equation "d30 = esp_thickness + thickness_bottom_of_base"
equation "esp_pin_depth = 9 mm"
equation "d36 = thickness_bottom_of_base + esp_thickness + esp_pin_depth + 2 mm"
equation "d38 = -( thickness_bottom_of_base + esp_thickness )"
equation "d40 = thickness_bottom_of_base + esp_thickness"
equation "d42 = -( thickness_bottom_of_base + esp_thickness + esp_pin_depth )"
equation "d44 = esp_thickness + thickness_bottom_of_base + esp_pin_depth"
equation "d46 = -( esp_thickness + thickness_bottom_of_base )"
equation "d54 = Base_dia"
equation "d55 = -lens_thickness"
equation "d62 = -thickness_bottom_of_base"
equation "d100 = ( 23.42 / 2 ) * 1 mm"
